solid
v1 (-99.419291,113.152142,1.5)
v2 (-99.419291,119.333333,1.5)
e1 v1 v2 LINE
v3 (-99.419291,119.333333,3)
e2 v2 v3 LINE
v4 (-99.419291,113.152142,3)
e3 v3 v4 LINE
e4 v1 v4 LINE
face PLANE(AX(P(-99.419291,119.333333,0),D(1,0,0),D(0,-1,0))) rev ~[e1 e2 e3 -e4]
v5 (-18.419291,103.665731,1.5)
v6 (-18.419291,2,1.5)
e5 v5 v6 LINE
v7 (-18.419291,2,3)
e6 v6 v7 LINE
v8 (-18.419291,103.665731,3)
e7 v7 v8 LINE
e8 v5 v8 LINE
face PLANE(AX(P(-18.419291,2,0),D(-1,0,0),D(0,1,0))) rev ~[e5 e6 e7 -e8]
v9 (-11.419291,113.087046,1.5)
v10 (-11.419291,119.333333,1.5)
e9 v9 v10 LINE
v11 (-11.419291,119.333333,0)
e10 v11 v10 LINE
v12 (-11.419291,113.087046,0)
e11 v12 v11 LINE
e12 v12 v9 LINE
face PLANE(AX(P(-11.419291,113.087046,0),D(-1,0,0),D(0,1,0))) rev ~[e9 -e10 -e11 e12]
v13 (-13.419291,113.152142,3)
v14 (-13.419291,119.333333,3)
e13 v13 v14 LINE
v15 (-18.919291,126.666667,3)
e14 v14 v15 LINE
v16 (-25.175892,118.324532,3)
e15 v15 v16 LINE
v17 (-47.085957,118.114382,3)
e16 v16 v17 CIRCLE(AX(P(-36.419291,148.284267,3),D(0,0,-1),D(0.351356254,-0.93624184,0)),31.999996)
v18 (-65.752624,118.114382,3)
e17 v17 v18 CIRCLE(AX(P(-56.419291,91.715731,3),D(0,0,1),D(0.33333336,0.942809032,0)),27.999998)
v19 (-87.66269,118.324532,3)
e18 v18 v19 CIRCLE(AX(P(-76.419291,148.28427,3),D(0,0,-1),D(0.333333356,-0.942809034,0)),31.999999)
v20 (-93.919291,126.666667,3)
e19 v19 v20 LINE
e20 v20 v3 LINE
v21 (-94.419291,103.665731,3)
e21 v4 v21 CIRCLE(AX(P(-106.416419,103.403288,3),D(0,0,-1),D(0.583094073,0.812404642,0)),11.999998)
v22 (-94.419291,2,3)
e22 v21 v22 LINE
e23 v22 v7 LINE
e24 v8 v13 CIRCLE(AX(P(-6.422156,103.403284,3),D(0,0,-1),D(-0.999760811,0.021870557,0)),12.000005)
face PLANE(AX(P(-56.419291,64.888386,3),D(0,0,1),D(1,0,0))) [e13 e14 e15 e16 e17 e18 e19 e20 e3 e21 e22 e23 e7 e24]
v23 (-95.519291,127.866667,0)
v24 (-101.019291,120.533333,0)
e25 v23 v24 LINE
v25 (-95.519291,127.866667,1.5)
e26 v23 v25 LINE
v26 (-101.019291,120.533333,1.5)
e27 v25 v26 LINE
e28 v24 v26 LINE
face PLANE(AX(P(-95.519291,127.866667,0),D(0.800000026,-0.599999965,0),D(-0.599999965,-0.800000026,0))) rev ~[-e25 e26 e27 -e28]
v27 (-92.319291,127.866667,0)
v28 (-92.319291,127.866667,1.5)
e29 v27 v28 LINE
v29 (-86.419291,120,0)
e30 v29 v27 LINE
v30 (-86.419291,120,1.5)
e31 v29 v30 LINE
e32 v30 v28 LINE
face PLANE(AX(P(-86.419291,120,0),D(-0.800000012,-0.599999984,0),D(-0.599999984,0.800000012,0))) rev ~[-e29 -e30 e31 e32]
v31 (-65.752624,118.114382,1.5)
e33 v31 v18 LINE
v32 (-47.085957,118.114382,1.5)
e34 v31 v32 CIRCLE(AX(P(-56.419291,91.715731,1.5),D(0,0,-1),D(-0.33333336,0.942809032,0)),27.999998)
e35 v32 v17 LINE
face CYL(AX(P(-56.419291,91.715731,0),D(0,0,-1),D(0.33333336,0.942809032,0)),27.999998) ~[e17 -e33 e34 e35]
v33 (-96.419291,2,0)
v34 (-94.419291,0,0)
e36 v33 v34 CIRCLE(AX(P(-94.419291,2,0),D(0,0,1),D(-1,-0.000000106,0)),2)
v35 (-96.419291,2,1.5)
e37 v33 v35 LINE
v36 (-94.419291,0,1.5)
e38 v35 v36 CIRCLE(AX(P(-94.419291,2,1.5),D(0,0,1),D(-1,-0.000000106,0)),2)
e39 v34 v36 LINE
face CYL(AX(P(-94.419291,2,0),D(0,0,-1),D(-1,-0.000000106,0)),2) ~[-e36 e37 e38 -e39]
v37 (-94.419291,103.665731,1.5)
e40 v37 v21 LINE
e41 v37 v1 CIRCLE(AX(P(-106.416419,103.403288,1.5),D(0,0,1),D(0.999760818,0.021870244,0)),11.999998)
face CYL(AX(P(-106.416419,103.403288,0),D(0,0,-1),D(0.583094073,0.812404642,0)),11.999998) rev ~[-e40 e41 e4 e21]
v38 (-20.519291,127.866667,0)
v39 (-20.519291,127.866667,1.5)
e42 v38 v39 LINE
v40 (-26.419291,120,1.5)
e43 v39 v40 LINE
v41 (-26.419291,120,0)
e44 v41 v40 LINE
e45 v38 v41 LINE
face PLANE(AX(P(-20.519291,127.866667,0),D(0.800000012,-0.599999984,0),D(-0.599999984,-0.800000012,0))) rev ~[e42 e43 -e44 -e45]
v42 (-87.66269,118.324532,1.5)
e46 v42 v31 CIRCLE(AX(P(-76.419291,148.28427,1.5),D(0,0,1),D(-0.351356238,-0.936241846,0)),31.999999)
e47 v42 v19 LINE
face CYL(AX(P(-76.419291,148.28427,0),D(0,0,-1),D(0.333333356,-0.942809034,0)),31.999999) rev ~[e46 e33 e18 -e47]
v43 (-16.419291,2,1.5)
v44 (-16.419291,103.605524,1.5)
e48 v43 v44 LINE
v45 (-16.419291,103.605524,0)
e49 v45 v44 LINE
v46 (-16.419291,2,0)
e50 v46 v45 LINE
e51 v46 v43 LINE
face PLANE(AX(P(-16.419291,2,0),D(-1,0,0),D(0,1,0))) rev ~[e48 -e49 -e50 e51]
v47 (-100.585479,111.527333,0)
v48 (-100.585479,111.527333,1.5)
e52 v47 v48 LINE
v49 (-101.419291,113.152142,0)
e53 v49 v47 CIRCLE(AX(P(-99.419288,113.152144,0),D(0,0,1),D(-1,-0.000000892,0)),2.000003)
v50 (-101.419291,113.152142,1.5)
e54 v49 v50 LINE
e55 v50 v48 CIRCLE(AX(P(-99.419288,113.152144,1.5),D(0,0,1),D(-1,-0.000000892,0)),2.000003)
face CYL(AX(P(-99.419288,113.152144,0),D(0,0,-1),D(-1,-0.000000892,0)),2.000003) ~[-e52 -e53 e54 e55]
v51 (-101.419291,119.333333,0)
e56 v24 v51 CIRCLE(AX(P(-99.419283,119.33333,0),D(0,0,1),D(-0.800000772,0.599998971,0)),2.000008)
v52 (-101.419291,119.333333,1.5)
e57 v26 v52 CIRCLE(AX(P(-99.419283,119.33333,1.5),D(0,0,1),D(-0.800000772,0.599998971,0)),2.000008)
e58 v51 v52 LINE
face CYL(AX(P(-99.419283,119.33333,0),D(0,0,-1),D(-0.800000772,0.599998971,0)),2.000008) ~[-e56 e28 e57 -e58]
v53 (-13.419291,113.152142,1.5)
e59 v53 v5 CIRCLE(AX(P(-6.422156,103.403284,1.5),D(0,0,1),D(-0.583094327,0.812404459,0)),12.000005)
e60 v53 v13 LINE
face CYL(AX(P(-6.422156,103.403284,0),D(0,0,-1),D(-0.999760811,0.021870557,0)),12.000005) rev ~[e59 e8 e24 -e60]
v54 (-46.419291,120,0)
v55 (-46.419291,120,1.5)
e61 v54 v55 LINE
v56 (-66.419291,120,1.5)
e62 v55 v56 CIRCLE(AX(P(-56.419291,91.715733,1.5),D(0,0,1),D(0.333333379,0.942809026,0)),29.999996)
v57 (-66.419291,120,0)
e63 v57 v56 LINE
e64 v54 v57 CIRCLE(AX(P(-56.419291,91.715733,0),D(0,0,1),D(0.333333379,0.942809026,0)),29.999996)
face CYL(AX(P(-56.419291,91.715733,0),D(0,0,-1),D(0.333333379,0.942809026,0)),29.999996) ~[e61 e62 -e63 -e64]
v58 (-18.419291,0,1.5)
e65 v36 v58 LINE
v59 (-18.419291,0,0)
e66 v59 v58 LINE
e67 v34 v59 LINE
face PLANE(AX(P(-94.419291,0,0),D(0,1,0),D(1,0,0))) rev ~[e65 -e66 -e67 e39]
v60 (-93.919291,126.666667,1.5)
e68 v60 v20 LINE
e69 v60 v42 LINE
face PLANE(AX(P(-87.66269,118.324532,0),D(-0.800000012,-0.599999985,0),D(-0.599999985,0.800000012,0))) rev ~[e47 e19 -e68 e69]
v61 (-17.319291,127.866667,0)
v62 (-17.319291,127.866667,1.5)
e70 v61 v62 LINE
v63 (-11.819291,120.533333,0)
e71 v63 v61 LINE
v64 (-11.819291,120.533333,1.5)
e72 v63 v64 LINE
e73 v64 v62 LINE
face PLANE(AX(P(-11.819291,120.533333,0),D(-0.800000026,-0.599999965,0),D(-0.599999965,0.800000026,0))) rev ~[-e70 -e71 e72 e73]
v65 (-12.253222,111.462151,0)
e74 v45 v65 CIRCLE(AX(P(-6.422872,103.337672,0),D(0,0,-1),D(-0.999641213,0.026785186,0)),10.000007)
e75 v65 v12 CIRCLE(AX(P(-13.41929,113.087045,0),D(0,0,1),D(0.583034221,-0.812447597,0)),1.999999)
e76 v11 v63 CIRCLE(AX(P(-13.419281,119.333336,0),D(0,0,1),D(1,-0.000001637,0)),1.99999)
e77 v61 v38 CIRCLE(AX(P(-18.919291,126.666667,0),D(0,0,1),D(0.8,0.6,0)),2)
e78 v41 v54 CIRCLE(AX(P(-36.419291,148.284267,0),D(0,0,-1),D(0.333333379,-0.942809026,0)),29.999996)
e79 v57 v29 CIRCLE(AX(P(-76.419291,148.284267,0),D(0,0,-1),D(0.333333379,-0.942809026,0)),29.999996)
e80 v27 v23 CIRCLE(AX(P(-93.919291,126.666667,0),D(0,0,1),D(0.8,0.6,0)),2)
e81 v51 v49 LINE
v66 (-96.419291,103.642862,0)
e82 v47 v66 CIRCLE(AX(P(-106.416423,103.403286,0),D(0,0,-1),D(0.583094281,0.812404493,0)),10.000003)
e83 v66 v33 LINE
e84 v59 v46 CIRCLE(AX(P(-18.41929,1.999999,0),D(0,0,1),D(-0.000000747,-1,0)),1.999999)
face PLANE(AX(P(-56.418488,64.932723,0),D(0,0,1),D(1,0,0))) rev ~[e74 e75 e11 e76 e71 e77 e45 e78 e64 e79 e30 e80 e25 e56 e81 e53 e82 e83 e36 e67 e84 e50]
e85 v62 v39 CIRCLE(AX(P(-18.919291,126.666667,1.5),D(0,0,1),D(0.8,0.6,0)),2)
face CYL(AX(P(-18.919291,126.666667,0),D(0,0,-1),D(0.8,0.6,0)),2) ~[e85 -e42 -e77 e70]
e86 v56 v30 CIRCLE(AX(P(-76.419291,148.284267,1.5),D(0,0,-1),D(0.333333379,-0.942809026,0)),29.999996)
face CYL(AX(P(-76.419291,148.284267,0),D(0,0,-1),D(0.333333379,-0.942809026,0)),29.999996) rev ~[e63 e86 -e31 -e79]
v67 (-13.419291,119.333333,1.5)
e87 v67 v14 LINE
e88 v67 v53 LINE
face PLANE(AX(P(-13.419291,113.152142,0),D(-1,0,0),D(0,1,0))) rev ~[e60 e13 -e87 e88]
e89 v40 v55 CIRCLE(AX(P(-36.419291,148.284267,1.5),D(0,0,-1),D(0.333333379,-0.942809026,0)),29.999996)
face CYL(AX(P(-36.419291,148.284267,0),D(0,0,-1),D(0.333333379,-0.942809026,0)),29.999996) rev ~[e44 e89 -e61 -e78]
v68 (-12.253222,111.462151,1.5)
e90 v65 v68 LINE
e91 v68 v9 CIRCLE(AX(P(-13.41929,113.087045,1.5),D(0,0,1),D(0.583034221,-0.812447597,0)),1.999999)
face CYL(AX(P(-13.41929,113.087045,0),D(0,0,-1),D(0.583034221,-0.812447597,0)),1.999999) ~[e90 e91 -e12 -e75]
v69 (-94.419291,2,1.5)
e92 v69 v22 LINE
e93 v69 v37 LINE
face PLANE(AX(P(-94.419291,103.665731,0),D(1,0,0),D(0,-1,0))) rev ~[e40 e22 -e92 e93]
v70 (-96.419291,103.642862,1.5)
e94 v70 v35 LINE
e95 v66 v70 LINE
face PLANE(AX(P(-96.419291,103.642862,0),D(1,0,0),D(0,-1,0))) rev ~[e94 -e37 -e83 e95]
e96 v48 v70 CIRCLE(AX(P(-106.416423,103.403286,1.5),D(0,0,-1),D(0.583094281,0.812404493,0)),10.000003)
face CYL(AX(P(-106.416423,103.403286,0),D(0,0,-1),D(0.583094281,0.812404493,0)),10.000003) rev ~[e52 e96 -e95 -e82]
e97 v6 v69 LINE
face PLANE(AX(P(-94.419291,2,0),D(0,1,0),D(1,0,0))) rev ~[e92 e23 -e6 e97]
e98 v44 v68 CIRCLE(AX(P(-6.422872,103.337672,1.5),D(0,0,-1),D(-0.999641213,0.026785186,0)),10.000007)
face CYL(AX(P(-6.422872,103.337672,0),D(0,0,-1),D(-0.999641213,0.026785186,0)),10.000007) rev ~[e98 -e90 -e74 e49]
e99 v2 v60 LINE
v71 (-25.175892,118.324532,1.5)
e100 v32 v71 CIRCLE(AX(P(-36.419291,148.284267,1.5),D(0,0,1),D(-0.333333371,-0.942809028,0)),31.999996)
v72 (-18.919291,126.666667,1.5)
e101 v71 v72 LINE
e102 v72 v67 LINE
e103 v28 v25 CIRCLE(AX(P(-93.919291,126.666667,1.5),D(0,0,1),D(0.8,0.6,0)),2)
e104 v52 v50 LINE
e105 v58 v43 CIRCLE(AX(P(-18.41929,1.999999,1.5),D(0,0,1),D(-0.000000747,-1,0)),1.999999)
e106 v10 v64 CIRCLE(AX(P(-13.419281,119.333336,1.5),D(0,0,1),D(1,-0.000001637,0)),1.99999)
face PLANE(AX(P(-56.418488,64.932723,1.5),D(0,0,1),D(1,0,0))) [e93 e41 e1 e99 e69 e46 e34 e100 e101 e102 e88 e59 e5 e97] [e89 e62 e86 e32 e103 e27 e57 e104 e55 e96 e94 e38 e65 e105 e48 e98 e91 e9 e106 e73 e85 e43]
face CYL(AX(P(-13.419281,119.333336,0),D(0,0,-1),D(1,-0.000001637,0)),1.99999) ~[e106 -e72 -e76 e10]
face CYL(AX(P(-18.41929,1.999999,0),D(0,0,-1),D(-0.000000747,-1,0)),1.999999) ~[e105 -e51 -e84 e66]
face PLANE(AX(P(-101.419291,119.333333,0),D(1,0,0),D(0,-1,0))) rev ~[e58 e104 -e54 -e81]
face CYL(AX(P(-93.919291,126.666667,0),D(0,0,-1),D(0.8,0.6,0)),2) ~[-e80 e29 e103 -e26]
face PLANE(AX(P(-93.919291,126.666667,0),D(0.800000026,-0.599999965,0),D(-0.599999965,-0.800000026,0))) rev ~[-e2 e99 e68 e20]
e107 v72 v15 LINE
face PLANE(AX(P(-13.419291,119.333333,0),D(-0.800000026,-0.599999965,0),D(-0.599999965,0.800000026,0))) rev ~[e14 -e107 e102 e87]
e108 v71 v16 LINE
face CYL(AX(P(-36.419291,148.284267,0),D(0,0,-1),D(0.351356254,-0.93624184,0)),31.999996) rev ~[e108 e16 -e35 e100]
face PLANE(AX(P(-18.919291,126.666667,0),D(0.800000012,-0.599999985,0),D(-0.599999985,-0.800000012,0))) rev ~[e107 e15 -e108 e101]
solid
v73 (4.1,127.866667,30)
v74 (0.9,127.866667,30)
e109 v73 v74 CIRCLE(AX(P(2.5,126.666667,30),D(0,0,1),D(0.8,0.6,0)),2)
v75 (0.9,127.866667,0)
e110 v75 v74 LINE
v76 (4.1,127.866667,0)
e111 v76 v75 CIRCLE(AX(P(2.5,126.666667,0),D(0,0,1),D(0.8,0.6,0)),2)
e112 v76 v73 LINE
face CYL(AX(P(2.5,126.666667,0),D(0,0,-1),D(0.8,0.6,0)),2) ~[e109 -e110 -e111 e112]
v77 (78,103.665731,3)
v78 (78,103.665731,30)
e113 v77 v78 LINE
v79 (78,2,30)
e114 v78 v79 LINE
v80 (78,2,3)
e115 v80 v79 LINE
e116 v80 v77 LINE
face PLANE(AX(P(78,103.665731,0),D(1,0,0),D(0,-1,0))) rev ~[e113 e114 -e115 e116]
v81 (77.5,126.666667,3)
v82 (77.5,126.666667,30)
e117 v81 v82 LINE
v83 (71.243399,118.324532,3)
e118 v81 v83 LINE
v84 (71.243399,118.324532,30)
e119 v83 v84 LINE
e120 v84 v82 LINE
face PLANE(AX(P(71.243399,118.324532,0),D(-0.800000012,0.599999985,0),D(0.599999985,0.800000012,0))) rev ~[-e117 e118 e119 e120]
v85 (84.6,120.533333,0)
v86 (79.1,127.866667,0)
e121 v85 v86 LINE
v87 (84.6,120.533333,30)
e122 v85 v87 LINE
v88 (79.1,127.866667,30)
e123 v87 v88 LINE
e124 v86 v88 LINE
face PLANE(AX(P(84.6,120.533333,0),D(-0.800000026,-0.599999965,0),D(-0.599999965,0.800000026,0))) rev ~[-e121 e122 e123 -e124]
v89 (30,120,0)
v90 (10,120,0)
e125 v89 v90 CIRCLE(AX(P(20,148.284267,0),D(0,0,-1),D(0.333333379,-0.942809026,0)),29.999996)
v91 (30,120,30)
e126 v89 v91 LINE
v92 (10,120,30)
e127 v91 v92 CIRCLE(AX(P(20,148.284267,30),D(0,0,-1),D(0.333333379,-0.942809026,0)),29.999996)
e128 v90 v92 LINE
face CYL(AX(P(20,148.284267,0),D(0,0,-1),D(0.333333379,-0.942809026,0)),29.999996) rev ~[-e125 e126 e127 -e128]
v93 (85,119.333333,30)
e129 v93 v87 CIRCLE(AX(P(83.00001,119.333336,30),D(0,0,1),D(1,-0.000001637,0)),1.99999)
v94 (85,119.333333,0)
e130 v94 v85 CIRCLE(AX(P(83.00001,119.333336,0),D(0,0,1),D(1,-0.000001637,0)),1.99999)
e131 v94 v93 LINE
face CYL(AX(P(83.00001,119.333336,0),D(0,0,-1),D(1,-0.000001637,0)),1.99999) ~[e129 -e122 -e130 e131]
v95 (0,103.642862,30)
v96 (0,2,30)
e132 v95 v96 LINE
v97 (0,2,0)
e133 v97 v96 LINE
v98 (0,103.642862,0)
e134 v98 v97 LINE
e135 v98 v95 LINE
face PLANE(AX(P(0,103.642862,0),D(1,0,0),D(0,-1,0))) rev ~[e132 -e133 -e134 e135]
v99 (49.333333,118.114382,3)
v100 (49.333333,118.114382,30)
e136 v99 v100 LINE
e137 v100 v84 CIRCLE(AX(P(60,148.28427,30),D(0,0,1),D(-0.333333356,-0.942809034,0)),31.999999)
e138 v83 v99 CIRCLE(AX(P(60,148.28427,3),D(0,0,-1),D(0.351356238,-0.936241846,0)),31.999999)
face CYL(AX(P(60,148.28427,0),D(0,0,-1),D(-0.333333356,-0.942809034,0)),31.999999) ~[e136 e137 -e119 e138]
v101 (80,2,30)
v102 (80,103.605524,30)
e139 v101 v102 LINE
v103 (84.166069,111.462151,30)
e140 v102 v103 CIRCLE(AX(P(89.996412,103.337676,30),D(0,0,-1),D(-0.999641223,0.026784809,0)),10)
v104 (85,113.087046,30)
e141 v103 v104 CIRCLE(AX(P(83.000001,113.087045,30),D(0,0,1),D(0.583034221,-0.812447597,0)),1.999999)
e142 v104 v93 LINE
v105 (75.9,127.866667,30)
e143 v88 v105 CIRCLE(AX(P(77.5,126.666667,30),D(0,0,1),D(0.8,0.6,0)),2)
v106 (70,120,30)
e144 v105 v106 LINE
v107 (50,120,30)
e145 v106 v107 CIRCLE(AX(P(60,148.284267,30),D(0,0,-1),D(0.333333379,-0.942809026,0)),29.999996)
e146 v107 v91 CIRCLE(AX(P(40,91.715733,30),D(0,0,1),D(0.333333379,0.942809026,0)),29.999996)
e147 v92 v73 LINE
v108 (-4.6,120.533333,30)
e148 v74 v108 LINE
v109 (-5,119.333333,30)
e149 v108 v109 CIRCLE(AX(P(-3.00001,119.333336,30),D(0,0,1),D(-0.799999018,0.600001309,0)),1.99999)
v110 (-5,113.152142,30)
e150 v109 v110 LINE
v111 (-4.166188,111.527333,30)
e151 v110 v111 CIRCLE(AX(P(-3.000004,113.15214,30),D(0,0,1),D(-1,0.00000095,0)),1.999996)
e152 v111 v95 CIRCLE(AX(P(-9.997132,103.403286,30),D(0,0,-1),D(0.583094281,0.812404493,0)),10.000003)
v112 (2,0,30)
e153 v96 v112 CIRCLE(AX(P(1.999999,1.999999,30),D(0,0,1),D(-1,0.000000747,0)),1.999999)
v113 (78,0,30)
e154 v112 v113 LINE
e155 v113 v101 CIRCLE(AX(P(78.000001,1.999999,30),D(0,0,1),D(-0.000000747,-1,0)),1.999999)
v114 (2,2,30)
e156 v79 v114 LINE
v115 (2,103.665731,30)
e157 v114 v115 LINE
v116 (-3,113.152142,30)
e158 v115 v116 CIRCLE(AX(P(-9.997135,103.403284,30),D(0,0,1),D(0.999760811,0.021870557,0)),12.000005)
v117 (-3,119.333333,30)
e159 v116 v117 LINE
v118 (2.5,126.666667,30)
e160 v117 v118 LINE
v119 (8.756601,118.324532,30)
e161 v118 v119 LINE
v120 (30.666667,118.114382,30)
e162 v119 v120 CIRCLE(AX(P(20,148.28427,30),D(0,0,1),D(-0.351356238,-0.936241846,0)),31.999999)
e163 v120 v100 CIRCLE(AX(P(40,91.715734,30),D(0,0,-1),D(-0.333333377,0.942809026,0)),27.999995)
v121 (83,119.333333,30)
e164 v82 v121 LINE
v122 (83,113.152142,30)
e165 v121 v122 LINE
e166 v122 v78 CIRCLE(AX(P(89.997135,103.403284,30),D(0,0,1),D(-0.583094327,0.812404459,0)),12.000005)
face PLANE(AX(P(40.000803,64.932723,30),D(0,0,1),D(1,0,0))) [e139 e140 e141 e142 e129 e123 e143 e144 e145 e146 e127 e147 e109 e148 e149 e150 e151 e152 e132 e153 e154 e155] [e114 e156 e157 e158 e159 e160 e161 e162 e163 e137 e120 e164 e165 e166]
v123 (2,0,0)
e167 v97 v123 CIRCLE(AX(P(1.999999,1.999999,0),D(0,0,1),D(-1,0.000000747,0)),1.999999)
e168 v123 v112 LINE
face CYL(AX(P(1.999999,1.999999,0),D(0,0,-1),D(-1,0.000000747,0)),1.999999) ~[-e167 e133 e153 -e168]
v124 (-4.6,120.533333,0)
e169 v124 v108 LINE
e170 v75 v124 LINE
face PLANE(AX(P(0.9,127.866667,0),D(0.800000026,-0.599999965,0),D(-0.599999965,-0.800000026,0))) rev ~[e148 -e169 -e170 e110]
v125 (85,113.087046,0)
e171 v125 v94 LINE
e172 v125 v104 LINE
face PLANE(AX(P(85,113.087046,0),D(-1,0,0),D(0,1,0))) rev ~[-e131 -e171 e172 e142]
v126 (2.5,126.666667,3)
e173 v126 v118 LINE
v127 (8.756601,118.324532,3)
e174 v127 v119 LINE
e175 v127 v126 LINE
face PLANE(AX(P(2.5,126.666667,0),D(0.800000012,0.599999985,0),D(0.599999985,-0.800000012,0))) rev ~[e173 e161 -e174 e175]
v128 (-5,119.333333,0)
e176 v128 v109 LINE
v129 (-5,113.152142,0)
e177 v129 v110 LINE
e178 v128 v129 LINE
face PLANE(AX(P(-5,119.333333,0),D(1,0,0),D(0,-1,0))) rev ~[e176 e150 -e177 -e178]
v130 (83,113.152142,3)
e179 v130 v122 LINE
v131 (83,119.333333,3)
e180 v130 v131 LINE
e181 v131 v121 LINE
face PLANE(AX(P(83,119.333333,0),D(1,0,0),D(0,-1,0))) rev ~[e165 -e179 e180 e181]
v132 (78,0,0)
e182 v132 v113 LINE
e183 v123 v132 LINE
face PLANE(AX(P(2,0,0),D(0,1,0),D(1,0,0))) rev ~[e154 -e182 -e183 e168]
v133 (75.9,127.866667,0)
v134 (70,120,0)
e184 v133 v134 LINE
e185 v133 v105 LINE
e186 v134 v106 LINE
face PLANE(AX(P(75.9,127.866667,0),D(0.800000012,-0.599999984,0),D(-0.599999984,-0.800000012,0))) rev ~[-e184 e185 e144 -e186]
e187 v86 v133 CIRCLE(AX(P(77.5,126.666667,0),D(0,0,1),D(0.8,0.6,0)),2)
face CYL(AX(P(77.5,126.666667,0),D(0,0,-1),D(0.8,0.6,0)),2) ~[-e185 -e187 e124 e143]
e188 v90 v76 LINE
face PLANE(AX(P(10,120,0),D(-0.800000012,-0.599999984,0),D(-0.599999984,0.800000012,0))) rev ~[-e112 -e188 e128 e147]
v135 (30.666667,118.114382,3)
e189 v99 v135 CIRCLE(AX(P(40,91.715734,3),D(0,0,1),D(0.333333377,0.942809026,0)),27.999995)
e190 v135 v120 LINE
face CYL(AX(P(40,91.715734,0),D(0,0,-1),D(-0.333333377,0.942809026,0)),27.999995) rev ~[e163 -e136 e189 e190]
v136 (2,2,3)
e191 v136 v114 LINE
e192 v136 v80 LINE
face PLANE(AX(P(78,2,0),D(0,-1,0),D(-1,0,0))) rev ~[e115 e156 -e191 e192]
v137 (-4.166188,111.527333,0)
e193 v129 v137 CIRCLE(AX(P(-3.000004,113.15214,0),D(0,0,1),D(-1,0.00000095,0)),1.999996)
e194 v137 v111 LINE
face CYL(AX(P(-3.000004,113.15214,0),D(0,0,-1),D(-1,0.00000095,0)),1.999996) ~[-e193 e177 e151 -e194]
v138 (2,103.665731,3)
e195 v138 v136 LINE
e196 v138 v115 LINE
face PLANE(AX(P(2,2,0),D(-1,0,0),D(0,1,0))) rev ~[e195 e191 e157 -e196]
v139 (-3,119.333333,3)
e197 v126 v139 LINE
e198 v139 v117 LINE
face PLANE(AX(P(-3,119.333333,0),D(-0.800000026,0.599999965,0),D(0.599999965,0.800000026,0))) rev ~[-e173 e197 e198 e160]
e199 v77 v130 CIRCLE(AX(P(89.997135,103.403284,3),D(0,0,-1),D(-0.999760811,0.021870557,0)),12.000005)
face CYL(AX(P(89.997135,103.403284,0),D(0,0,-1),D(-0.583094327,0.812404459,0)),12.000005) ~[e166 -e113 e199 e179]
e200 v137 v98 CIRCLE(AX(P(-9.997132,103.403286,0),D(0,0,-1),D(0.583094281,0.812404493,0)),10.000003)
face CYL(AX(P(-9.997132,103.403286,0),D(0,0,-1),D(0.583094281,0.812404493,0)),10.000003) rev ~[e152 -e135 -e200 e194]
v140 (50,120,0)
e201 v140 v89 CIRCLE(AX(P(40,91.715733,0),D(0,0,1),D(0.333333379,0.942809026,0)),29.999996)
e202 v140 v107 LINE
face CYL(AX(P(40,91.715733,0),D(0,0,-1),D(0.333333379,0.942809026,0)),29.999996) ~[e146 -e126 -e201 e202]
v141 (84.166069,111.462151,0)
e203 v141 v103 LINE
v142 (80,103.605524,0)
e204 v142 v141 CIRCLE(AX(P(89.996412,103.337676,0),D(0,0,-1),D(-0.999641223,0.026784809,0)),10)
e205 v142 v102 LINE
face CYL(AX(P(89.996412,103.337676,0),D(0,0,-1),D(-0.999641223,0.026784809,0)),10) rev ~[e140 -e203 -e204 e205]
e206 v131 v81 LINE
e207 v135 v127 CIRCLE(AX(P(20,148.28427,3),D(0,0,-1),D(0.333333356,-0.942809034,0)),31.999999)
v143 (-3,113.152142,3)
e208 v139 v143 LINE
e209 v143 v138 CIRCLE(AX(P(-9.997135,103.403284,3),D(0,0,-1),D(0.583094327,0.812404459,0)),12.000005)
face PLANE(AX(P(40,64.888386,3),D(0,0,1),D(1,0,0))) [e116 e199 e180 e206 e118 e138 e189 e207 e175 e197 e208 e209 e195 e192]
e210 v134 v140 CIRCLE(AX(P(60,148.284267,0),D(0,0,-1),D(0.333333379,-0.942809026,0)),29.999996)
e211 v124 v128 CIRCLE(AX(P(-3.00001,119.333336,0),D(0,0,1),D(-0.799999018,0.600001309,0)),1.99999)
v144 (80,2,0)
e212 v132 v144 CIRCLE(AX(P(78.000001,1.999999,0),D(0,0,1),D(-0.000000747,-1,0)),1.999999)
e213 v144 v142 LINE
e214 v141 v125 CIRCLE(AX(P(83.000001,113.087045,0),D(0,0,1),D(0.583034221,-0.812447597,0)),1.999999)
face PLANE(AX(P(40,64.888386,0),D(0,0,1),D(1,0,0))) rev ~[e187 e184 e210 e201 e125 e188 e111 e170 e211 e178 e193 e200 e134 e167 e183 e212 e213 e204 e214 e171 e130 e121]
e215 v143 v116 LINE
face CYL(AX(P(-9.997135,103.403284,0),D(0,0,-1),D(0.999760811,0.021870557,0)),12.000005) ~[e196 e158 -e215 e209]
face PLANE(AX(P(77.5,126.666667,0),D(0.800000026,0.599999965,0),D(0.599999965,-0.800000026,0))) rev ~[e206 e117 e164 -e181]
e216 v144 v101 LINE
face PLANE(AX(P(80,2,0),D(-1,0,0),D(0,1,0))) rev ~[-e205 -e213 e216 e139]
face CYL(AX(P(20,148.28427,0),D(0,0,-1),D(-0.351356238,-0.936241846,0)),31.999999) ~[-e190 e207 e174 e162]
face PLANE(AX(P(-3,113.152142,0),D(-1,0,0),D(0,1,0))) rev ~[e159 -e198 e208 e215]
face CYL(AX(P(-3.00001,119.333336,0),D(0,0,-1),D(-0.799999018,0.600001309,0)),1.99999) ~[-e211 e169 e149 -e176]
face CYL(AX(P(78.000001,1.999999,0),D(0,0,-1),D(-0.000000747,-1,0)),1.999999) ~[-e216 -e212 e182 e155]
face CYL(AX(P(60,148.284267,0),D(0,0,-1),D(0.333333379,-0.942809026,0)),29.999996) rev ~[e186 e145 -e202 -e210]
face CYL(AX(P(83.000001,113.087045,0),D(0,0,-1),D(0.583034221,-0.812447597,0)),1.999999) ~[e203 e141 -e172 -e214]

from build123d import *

# Parameters (mm, degrees)
F1_DEPTH = 30
F2_DEPTH = 3
F4_DEPTH = 3
F5_DEPTH = 1.5


with BuildPart() as f1:
    # F0 (on Top) → F1 (new body)
    with BuildSketch(Plane.XY):
        with BuildLine():
            ThreePointArc((0, 2), (0.585786, 0.585786), (2, 0))
            Line((2, 0), (78, 0))
            ThreePointArc((78, 0), (79.414214, 0.585786), (80, 2))
            Line((80, 2), (80, 103.605524))
            ThreePointArc((80, 103.605524), (81.16164, 108.022417), (84.166069, 111.462151))
            ThreePointArc((84.166069, 111.462151), (84.779345, 112.173847), (85, 113.087046))
            Line((85, 113.087046), (85, 119.333333))
            ThreePointArc((85, 119.333333), (84.897367, 119.965789), (84.6, 120.533333))
            Line((84.6, 120.533333), (79.1, 127.866667))
            ThreePointArc((79.1, 127.866667), (77.5, 128.666667), (75.9, 127.866667))
            Line((75.9, 127.866667), (70, 120))
            ThreePointArc((70, 120), (60, 118.284271), (50, 120))
            ThreePointArc((50, 120), (40, 121.715729), (30, 120))
            ThreePointArc((30, 120), (20, 118.284271), (10, 120))
            Line((10, 120), (4.1, 127.866667))
            ThreePointArc((4.1, 127.866667), (2.5, 128.666667), (0.9, 127.866667))
            Line((0.9, 127.866667), (-4.6, 120.533333))
            ThreePointArc((-4.6, 120.533333), (-4.897367, 119.965789), (-5, 119.333333))
            Line((-5, 119.333333), (-5, 113.152142))
            ThreePointArc((-5, 113.152142), (-4.779379, 112.239009), (-4.166188, 111.527333))
            ThreePointArc((-4.166188, 111.527333), (-1.15557, 108.075205), (0, 103.642862))
            Line((0, 103.642862), (0, 2))
        make_face()
        with BuildLine():
            Line((2.5, 126.666667), (8.756601, 118.324532))
            ThreePointArc((8.756601, 118.324532), (19.693087, 116.285743), (30.666667, 118.114382))
            ThreePointArc((30.666667, 118.114382), (40, 119.715729), (49.333333, 118.114382))
            ThreePointArc((49.333333, 118.114382), (60.306913, 116.285743), (71.243399, 118.324532))
            Line((71.243399, 118.324532), (77.5, 126.666667))
            Line((77.5, 126.666667), (83, 119.333333))
            Line((83, 119.333333), (83, 113.152142))
            ThreePointArc((83, 113.152142), (79.381412, 108.99851), (78, 103.665731))
            Line((78, 103.665731), (78, 103.605524))
            Line((78, 103.605524), (78, 2))
            Line((78, 2), (2, 2))
            Line((2, 2), (2, 103.665731))
            ThreePointArc((2, 103.665731), (0.618588, 108.99851), (-3, 113.152142))
            Line((-3, 113.152142), (-3, 119.333333))
            Line((-3, 119.333333), (2.5, 126.666667))
        make_face(mode=Mode.SUBTRACT)
    extrude(amount=F1_DEPTH)

    # F0 (on Top) → F2 (join)
    with BuildSketch(Plane.XY):
        with BuildLine():
            ThreePointArc((30.666667, 118.114382), (19.693087, 116.285743), (8.756601, 118.324532))
            Line((8.756601, 118.324532), (2.5, 126.666667))
            Line((2.5, 126.666667), (-3, 119.333333))
            Line((-3, 119.333333), (-3, 113.152142))
            ThreePointArc((-3, 113.152142), (0.618588, 108.99851), (2, 103.665731))
            Line((2, 103.665731), (2, 2))
            Line((2, 2), (78, 2))
            Line((78, 2), (78, 103.605524))
            Line((78, 103.605524), (78, 103.665731))
            ThreePointArc((78, 103.665731), (79.381412, 108.99851), (83, 113.152142))
            Line((83, 113.152142), (83, 119.333333))
            Line((83, 119.333333), (77.5, 126.666667))
            Line((77.5, 126.666667), (71.243399, 118.324532))
            ThreePointArc((71.243399, 118.324532), (60.306913, 116.285743), (49.333333, 118.114382))
            ThreePointArc((49.333333, 118.114382), (40, 119.715729), (30.666667, 118.114382))
        make_face()
    extrude(amount=F2_DEPTH)


with BuildPart() as f4:
    # F3 (on Top) → F4 (new body)
    with BuildSketch(Plane.XY):
        with BuildLine():
            ThreePointArc((-65.752624, 118.114382), (-76.726204, 116.285743), (-87.66269, 118.324532))
            Line((-87.66269, 118.324532), (-93.919291, 126.666667))
            Line((-93.919291, 126.666667), (-99.419291, 119.333333))
            Line((-99.419291, 119.333333), (-99.419291, 113.152142))
            ThreePointArc((-99.419291, 113.152142), (-95.800702, 108.99851), (-94.419291, 103.665731))
            Line((-94.419291, 103.665731), (-94.419291, 2))
            Line((-94.419291, 2), (-18.419291, 2))
            Line((-18.419291, 2), (-18.419291, 103.605524))
            Line((-18.419291, 103.605524), (-18.419291, 103.665731))
            ThreePointArc((-18.419291, 103.665731), (-17.037879, 108.99851), (-13.419291, 113.152142))
            Line((-13.419291, 113.152142), (-13.419291, 119.333333))
            Line((-13.419291, 119.333333), (-18.919291, 126.666667))
            Line((-18.919291, 126.666667), (-25.175892, 118.324532))
            ThreePointArc((-25.175892, 118.324532), (-36.112377, 116.285743), (-47.085957, 118.114382))
            ThreePointArc((-47.085957, 118.114382), (-56.419291, 119.715729), (-65.752624, 118.114382))
        make_face()
    extrude(amount=F4_DEPTH)

    # F3 (on Top) → F5 (join)
    with BuildSketch(Plane.XY):
        with BuildLine():
            ThreePointArc((-96.419291, 2), (-95.833504, 0.585786), (-94.419291, 0))
            Line((-94.419291, 0), (-18.419291, 0))
            ThreePointArc((-18.419291, 0), (-17.005077, 0.585786), (-16.419291, 2))
            Line((-16.419291, 2), (-16.419291, 103.605524))
            ThreePointArc((-16.419291, 103.605524), (-15.25765, 108.022417), (-12.253222, 111.462151))
            ThreePointArc((-12.253222, 111.462151), (-11.639946, 112.173847), (-11.419291, 113.087046))
            Line((-11.419291, 113.087046), (-11.419291, 119.333333))
            ThreePointArc((-11.419291, 119.333333), (-11.521924, 119.965789), (-11.819291, 120.533333))
            Line((-11.819291, 120.533333), (-17.319291, 127.866667))
            ThreePointArc((-17.319291, 127.866667), (-18.919291, 128.666667), (-20.519291, 127.866667))
            Line((-20.519291, 127.866667), (-26.419291, 120))
            ThreePointArc((-26.419291, 120), (-36.419291, 118.284271), (-46.419291, 120))
            ThreePointArc((-46.419291, 120), (-56.419291, 121.715729), (-66.419291, 120))
            ThreePointArc((-66.419291, 120), (-76.419291, 118.284271), (-86.419291, 120))
            Line((-86.419291, 120), (-92.319291, 127.866667))
            ThreePointArc((-92.319291, 127.866667), (-93.919291, 128.666667), (-95.519291, 127.866667))
            Line((-95.519291, 127.866667), (-101.019291, 120.533333))
            ThreePointArc((-101.019291, 120.533333), (-101.316657, 119.965789), (-101.419291, 119.333333))
            Line((-101.419291, 119.333333), (-101.419291, 113.152142))
            ThreePointArc((-101.419291, 113.152142), (-101.198669, 112.239009), (-100.585479, 111.527333))
            ThreePointArc((-100.585479, 111.527333), (-97.574861, 108.075205), (-96.419291, 103.642862))
            Line((-96.419291, 103.642862), (-96.419291, 2))
        make_face()
        with BuildLine():
            Line((-93.919291, 126.666667), (-87.66269, 118.324532))
            ThreePointArc((-87.66269, 118.324532), (-76.726204, 116.285743), (-65.752624, 118.114382))
            ThreePointArc((-65.752624, 118.114382), (-56.419291, 119.715729), (-47.085957, 118.114382))
            ThreePointArc((-47.085957, 118.114382), (-36.112377, 116.285743), (-25.175892, 118.324532))
            Line((-25.175892, 118.324532), (-18.919291, 126.666667))
            Line((-18.919291, 126.666667), (-13.419291, 119.333333))
            Line((-13.419291, 119.333333), (-13.419291, 113.152142))
            ThreePointArc((-13.419291, 113.152142), (-17.037879, 108.99851), (-18.419291, 103.665731))
            Line((-18.419291, 103.665731), (-18.419291, 103.605524))
            Line((-18.419291, 103.605524), (-18.419291, 2))
            Line((-18.419291, 2), (-94.419291, 2))
            Line((-94.419291, 2), (-94.419291, 103.665731))
            ThreePointArc((-94.419291, 103.665731), (-95.800702, 108.99851), (-99.419291, 113.152142))
            Line((-99.419291, 113.152142), (-99.419291, 119.333333))
            Line((-99.419291, 119.333333), (-93.919291, 126.666667))
        make_face(mode=Mode.SUBTRACT)
    extrude(amount=F5_DEPTH)


solid = Compound([f1.part, f4.part])
